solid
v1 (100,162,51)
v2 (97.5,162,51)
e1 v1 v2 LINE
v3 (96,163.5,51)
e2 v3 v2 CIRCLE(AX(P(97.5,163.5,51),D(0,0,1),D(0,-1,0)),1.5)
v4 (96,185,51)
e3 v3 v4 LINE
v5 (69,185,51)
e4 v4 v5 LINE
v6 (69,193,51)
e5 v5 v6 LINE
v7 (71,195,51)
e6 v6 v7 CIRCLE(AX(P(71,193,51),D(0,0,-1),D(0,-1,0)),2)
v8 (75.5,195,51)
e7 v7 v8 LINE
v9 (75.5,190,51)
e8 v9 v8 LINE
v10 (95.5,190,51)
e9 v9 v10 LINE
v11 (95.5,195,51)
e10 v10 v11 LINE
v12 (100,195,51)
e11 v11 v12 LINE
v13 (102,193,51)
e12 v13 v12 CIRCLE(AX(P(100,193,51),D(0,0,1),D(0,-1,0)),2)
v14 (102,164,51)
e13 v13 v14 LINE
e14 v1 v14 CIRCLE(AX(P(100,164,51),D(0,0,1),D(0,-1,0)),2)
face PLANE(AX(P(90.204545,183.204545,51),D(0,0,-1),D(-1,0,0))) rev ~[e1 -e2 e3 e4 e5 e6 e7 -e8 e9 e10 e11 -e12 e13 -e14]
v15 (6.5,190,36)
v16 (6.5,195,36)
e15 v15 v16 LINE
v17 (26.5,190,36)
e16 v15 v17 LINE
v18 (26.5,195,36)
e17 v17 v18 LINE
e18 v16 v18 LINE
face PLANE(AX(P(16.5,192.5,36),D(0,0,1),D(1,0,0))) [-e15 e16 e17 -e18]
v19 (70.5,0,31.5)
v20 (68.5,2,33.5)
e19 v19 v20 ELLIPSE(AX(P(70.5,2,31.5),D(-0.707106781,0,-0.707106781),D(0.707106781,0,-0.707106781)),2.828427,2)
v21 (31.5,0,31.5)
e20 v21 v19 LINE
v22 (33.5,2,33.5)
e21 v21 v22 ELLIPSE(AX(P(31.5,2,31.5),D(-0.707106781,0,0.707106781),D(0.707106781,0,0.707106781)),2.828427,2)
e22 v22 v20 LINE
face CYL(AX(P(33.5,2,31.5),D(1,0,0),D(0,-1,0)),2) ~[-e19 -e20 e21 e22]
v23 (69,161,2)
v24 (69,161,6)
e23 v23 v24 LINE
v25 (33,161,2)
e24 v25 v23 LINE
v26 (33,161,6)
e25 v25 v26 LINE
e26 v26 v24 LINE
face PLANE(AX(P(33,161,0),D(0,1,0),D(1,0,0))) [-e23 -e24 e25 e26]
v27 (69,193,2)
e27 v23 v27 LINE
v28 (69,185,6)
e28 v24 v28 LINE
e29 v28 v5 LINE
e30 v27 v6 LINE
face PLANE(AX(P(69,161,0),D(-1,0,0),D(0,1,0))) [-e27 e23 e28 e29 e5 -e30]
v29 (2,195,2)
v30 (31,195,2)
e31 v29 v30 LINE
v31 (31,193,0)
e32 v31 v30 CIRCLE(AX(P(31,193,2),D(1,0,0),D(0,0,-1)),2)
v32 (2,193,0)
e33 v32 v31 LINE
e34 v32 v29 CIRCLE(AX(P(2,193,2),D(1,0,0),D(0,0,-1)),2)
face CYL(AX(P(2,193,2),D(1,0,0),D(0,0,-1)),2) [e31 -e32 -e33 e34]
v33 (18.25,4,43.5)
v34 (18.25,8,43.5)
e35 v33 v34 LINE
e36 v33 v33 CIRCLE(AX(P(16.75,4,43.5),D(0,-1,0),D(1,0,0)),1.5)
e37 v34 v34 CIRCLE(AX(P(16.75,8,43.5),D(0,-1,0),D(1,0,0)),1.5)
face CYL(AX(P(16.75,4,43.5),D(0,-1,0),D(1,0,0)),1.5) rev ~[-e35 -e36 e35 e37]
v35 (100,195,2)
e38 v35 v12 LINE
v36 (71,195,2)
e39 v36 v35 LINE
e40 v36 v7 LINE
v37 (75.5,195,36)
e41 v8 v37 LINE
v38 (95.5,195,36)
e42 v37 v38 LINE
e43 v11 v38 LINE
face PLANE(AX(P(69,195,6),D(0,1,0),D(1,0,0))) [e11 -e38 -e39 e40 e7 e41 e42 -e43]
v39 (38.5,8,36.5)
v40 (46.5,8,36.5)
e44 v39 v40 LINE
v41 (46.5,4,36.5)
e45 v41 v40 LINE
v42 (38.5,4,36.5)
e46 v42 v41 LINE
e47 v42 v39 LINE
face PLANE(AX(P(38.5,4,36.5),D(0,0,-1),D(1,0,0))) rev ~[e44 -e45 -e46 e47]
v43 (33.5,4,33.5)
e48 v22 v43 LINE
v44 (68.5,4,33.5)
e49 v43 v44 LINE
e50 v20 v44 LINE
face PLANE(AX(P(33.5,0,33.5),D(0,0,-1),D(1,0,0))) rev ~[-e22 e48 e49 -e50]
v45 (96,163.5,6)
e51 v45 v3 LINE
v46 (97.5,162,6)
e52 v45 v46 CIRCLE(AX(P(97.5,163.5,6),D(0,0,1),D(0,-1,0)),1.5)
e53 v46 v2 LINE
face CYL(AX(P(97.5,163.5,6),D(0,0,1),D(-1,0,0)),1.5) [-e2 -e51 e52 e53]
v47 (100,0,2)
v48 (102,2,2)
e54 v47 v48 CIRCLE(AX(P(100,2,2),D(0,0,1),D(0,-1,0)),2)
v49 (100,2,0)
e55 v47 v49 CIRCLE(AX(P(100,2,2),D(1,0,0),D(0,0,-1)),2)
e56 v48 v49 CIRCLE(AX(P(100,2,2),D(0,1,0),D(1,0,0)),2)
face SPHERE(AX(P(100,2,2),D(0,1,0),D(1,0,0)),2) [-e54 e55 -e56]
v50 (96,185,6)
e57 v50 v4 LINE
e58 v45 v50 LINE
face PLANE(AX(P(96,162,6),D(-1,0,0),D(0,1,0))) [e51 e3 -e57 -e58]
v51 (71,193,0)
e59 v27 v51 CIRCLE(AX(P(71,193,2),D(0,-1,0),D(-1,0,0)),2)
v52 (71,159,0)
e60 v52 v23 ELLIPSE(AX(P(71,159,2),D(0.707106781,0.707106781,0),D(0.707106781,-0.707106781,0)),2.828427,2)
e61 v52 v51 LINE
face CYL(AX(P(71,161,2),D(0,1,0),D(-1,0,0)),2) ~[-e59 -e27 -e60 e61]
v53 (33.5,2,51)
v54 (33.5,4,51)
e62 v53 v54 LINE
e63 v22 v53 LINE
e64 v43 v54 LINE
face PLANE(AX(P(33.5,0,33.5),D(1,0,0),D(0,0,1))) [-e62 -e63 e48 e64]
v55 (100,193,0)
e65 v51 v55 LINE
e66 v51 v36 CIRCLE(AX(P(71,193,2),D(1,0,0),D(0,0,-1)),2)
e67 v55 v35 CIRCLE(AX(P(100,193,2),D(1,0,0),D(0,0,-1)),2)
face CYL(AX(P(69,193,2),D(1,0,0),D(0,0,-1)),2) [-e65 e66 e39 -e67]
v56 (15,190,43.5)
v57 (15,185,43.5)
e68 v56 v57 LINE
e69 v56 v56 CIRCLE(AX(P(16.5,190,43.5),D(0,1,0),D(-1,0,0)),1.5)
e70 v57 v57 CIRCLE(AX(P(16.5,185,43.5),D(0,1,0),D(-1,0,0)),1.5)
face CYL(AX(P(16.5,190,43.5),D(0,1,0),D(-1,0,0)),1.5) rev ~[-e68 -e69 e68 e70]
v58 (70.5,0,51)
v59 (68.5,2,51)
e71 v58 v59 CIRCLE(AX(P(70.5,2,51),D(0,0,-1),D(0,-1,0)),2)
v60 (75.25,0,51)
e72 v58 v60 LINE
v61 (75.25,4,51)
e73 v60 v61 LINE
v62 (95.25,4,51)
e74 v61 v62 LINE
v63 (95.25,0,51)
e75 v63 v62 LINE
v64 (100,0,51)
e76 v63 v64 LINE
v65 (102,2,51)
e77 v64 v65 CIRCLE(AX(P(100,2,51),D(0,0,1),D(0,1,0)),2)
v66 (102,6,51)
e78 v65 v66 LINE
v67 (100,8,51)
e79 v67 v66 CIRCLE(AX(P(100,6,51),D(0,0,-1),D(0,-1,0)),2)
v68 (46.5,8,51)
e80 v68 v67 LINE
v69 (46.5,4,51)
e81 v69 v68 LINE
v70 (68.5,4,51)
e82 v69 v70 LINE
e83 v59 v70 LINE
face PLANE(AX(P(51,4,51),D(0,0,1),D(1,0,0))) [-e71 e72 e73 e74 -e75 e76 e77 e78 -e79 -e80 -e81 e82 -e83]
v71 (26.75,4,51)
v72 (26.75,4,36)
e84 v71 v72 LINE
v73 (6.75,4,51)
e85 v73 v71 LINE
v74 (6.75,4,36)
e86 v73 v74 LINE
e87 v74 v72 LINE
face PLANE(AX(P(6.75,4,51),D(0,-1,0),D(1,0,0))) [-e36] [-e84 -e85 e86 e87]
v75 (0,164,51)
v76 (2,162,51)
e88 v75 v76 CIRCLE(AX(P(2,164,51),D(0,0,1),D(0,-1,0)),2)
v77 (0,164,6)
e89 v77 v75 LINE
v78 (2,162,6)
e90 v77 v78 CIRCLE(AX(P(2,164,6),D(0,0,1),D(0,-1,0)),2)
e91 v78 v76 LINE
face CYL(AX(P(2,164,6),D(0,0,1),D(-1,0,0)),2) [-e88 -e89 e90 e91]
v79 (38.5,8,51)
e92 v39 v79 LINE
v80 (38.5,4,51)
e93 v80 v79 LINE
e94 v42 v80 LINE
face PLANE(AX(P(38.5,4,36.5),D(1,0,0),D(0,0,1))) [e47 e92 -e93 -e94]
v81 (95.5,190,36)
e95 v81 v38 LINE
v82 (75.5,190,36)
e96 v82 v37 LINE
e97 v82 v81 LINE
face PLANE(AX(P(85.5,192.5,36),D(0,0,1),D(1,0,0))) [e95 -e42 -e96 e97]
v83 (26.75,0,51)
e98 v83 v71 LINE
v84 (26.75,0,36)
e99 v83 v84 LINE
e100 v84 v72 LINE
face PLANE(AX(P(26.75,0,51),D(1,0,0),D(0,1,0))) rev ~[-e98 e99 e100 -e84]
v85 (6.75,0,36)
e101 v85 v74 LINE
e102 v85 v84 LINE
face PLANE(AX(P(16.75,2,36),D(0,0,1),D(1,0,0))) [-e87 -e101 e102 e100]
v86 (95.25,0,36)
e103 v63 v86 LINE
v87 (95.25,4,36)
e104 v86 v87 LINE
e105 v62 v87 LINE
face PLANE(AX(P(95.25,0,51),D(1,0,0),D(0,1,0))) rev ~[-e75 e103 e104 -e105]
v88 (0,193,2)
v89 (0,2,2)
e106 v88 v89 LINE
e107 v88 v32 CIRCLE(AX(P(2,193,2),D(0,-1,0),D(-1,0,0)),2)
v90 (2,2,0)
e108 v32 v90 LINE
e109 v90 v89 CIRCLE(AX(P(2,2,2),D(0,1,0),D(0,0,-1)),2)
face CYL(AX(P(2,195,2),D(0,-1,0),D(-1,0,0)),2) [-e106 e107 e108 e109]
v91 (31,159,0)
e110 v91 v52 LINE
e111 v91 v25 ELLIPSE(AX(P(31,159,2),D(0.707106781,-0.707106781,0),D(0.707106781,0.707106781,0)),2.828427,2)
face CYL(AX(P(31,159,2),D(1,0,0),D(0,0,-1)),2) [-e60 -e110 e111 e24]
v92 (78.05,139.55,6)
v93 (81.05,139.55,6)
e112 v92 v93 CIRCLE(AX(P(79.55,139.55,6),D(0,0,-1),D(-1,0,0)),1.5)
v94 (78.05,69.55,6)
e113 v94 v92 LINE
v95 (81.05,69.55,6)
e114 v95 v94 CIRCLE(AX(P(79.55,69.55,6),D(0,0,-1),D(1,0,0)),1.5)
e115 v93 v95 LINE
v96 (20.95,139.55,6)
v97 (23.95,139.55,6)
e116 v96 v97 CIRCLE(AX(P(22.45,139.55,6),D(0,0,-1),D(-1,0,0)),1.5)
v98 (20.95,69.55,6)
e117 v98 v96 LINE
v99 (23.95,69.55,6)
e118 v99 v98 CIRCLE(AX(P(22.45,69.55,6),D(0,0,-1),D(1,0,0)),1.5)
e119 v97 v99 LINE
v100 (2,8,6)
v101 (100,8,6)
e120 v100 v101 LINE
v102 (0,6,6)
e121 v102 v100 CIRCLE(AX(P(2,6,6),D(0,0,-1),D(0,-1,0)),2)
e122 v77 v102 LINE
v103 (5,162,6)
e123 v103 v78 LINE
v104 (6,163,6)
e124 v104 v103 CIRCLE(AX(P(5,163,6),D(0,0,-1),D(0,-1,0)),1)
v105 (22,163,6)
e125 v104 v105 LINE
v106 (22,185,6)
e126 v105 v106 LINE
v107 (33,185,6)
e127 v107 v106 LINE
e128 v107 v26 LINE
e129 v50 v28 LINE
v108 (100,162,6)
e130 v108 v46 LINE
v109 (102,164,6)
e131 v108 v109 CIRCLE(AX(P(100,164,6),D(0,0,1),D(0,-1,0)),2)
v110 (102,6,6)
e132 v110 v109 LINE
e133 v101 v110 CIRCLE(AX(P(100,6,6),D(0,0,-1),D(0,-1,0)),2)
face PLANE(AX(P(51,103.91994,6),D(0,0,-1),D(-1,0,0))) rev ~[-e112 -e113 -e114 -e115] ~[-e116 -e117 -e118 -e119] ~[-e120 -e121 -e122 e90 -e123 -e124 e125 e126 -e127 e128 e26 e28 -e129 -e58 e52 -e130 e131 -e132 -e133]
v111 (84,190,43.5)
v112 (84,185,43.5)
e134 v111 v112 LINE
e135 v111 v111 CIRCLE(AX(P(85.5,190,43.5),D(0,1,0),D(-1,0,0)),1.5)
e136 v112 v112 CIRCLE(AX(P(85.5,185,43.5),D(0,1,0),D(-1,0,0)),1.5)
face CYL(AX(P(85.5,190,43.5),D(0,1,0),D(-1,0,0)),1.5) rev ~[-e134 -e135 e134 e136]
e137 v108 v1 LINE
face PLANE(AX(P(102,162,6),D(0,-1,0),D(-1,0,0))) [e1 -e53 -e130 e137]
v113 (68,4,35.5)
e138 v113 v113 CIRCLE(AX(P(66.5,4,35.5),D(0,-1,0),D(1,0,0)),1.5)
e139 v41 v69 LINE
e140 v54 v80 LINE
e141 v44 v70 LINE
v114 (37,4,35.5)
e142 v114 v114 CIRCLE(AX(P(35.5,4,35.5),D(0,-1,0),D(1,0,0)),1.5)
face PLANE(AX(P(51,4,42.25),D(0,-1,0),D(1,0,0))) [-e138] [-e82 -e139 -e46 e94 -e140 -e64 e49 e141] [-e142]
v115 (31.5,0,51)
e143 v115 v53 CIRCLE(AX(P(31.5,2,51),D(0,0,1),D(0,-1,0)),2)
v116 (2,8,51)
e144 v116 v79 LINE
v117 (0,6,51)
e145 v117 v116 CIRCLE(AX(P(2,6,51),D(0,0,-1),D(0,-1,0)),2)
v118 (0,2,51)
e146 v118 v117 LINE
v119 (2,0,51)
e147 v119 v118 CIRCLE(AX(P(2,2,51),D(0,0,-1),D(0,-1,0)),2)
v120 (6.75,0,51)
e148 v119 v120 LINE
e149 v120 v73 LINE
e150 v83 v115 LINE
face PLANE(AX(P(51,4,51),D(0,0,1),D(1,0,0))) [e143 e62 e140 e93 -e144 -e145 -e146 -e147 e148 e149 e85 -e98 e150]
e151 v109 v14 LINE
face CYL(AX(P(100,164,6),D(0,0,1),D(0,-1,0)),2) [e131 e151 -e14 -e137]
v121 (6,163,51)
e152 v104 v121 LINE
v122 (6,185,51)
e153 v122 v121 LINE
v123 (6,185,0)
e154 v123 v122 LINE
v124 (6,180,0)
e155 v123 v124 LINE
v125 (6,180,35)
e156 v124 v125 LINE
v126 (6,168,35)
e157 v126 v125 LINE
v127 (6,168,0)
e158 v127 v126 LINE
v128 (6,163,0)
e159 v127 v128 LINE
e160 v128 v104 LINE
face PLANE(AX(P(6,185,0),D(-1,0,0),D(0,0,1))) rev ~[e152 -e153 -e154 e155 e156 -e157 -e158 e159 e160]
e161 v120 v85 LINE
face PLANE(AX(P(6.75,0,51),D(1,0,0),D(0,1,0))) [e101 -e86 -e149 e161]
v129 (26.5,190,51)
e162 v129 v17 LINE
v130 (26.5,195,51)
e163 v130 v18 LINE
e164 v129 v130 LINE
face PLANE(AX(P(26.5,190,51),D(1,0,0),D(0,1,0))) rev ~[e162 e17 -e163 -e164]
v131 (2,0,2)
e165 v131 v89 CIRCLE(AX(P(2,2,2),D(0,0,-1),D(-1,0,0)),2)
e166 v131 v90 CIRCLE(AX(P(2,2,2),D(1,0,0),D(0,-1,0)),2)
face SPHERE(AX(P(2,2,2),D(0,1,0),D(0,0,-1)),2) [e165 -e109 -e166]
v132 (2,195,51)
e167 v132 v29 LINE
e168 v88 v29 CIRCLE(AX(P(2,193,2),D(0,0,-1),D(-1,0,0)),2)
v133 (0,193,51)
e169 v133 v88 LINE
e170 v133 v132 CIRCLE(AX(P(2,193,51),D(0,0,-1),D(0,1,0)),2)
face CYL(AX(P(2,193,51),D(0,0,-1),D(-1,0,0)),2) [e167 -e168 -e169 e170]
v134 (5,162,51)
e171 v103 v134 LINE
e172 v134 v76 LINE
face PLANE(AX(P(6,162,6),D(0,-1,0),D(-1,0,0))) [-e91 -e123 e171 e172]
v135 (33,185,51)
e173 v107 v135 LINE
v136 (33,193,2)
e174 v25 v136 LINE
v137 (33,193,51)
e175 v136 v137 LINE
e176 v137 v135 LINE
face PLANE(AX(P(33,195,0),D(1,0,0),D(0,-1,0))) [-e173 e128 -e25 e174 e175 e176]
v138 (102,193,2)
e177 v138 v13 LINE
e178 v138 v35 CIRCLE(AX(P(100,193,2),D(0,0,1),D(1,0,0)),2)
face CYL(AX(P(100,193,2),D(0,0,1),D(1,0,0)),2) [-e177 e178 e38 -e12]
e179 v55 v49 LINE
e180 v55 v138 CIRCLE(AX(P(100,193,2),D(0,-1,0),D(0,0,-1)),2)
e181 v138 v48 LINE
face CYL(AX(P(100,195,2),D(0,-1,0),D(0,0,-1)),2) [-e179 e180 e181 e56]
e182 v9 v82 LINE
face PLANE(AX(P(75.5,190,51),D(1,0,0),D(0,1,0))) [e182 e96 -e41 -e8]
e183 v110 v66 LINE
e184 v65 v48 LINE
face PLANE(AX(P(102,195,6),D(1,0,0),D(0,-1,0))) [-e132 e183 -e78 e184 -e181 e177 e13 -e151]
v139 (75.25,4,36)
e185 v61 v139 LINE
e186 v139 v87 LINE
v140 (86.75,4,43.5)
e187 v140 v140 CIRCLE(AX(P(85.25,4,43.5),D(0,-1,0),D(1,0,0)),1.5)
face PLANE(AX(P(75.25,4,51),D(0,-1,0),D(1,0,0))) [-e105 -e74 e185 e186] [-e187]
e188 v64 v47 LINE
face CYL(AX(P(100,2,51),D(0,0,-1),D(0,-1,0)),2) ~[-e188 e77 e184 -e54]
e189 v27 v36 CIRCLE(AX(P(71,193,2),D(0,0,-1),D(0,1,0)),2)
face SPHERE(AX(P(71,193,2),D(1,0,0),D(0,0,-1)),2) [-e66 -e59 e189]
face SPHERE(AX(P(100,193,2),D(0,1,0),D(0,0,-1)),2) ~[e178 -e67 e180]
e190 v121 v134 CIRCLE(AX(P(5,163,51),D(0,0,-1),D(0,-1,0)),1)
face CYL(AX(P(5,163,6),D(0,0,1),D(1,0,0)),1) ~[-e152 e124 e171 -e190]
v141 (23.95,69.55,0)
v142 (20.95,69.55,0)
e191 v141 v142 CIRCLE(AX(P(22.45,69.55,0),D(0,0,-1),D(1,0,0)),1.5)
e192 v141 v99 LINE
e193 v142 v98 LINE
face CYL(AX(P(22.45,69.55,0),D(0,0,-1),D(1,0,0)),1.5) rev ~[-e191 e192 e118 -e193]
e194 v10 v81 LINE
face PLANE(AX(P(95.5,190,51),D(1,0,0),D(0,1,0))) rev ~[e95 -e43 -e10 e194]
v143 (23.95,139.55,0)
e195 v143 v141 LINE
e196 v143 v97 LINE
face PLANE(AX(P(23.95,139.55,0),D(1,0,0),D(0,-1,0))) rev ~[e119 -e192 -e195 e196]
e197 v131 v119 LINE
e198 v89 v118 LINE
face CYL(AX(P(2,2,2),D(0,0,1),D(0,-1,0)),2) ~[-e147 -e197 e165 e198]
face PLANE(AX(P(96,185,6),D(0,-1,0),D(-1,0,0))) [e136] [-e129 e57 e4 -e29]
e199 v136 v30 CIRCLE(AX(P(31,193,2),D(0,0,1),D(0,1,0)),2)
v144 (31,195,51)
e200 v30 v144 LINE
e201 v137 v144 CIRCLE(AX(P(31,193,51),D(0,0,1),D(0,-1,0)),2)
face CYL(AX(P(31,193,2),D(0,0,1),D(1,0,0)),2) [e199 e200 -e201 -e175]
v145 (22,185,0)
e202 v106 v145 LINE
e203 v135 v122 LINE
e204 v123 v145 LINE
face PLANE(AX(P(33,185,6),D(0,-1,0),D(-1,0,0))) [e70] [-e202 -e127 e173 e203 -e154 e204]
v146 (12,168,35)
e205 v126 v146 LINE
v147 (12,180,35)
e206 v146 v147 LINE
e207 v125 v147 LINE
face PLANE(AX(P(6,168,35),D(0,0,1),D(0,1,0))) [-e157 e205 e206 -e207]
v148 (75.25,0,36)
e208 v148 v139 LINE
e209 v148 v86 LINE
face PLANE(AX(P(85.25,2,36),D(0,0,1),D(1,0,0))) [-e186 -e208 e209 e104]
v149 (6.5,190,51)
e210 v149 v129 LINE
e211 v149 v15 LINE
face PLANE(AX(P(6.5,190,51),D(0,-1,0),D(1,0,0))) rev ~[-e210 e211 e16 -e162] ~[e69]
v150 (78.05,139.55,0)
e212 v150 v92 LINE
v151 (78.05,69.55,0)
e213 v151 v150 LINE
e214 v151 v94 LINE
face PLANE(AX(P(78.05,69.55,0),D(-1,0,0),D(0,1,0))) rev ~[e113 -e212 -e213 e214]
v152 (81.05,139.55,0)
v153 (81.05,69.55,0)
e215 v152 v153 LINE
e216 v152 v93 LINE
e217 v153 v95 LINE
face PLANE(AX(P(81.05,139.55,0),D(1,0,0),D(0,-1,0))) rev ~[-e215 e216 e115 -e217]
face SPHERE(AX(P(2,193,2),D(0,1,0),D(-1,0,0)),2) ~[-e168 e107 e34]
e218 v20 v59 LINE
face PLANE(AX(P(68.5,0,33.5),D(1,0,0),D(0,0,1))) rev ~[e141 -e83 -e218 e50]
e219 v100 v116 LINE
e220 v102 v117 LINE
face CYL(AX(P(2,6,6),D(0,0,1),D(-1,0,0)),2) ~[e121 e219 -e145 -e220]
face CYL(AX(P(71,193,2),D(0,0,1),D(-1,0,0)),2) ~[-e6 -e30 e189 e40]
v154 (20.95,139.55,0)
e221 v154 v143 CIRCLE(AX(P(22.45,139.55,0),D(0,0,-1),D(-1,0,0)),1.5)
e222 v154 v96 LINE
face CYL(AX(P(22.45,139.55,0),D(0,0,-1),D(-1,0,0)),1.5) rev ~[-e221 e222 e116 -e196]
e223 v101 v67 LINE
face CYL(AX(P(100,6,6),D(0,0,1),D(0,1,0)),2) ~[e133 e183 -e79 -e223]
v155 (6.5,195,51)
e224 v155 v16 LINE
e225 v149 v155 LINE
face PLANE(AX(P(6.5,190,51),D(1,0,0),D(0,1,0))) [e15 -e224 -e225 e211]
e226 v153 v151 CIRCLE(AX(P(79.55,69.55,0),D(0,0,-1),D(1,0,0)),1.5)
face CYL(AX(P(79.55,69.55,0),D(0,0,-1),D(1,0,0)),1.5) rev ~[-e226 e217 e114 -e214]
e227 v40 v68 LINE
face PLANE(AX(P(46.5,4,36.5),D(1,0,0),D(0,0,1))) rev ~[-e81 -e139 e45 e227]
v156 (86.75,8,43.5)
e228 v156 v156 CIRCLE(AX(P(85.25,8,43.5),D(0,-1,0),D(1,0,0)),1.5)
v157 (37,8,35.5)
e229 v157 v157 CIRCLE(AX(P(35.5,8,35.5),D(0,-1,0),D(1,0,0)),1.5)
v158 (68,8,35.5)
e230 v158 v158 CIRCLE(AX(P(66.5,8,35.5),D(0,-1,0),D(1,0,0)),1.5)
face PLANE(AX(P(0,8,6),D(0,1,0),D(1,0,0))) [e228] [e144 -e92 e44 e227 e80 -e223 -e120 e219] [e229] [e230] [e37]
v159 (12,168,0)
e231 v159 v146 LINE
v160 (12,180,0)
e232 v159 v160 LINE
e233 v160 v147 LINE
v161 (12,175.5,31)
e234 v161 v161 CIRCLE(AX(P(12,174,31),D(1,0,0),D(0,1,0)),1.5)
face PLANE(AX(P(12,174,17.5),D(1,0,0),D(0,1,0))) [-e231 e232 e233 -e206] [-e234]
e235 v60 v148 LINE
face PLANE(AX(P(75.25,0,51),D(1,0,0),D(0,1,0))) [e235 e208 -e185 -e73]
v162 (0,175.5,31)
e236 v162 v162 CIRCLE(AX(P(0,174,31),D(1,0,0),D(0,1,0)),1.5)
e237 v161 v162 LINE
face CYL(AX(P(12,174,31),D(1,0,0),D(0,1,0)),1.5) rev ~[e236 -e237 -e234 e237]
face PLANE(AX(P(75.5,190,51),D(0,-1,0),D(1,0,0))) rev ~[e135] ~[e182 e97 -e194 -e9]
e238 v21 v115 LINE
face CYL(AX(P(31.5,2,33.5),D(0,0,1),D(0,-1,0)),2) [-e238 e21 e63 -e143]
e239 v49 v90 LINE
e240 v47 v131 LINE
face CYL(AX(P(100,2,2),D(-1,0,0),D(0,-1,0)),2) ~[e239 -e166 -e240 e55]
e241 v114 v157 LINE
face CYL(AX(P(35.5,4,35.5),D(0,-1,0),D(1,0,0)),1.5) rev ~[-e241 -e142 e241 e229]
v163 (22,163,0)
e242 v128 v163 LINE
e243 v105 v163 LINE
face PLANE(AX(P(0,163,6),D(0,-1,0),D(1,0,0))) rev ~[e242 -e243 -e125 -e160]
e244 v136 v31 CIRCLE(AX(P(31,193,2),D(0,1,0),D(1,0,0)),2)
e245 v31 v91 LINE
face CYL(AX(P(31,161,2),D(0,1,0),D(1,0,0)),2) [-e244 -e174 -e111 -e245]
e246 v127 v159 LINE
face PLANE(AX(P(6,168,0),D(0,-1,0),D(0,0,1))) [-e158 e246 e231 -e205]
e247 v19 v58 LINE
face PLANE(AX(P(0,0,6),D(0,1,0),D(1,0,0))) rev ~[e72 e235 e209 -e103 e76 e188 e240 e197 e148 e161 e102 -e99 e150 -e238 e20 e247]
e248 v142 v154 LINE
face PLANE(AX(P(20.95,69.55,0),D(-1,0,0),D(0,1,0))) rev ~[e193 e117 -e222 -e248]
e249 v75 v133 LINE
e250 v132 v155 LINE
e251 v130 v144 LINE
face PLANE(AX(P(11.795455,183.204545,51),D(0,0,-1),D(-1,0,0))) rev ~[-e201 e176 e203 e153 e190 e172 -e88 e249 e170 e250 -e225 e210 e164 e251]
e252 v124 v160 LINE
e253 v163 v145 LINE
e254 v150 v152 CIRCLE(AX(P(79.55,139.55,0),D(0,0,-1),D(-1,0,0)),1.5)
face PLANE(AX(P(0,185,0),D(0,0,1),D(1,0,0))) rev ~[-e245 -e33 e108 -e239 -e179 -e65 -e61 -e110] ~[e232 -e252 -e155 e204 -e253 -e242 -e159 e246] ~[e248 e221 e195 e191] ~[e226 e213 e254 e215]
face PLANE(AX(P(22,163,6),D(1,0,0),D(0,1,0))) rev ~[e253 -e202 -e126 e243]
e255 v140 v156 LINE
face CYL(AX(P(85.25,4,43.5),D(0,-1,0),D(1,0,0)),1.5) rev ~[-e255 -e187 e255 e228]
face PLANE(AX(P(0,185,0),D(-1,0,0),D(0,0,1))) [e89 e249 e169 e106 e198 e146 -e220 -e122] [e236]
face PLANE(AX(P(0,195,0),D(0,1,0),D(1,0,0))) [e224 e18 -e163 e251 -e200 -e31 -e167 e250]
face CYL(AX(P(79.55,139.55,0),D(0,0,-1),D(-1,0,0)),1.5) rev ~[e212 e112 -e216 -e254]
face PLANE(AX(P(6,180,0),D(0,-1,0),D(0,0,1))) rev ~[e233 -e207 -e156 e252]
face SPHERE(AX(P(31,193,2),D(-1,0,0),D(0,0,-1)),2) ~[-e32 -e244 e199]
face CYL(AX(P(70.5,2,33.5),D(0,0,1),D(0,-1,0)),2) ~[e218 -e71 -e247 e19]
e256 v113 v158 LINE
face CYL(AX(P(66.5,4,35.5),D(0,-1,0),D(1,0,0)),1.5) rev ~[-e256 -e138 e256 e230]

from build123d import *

# Parameters (mm, degrees)
PAD_DEPTH       = 6
SKETCH001_W     = 22
SKETCH001_H     = 22
POCKET_DEPTH    = 6
SKETCH002_W     = 102
SKETCH002_H     = 8
PAD001_DEPTH    = 45
SKETCH003_W     = 35
SKETCH003_H     = 17.5
POCKET001_DEPTH = 4
SKETCH004_R     = 1.5
SKETCH004_W     = 8
SKETCH004_H     = 14.5
POCKET002_DEPTH = 4
SKETCH005_W     = 20
SKETCH005_H     = 4
POCKET003_DEPTH = 15
SKETCH006_R     = 1.5
POCKET004_DEPTH = 4
PAD002_DEPTH    = 45
SKETCH008_W     = 6
SKETCH008_H     = 6
PAD003_DEPTH    = 22
SKETCH009_W     = 20
SKETCH009_H     = 5
POCKET005_DEPTH = 15
SKETCH010_R     = 1.5
POCKET006_DEPTH = 5
SKETCH011_W     = 12
SKETCH011_H     = 35
PAD004_DEPTH    = 6
SKETCH012_R     = 1.5
POCKET007_DEPTH = 12.001
POCKET008_DEPTH = 6
FILLET_R        = 2
FILLET001_R     = 2
FILLET002_R     = 2
FILLET003_R     = 2
FILLET004_R     = 2
FILLET005_R     = 2
FILLET006_R     = 2
FILLET007_R     = 1.5
FILLET008_R     = 2
FILLET009_R     = 1
FILLET010_R     = 2
FILLET011_R     = 2
FILLET012_R     = 2
FILLET013_R     = 2


with BuildPart() as part:
    # Sketch → Pad (new body)
    with BuildSketch(Plane.XY):
        Polygon((0, 0), (0, 195), (33, 195), (33, 161), (69, 161), (69, 195), (102, 195), (102, 0), align=None)
    extrude(amount=PAD_DEPTH)

    # Sketch001 (on Face10 of Pad) → Pocket (cut)
    with BuildSketch(Plane.XY.offset(6)):
        with Locations((11, 174)):
            Rectangle(SKETCH001_W, SKETCH001_H)
    extrude(amount=-POCKET_DEPTH, mode=Mode.SUBTRACT)

    # Sketch002 (on Face4 of Pocket) → Pad001 (join)
    with BuildSketch(Plane.XY.offset(6)):
        with Locations((51, 4)):
            Rectangle(SKETCH002_W, SKETCH002_H)
    extrude(amount=PAD001_DEPTH)

    # Sketch003 (on Face16 of Pad001) → Pocket001 (cut)
    with BuildSketch(Plane.XZ):
        with Locations((51, 42.25)):
            Rectangle(SKETCH003_W, SKETCH003_H)
    extrude(amount=-POCKET001_DEPTH, mode=Mode.SUBTRACT)

    # Sketch004 (on Face23 of Pocket001) → Pocket002 (cut)
    with BuildSketch(Plane.XZ.offset(-4)):
        with Locations((35.5, 35.5)):
            Circle(SKETCH004_R)
        with Locations((66.5, 35.5)):
            Circle(SKETCH004_R)
        with Locations((42.5, 43.75)):
            Rectangle(SKETCH004_W, SKETCH004_H)
    extrude(amount=-POCKET002_DEPTH, mode=Mode.SUBTRACT)

    # Sketch005 (on Face23 of Pocket002) → Pocket003 (cut)
    with BuildSketch(Plane.XY.offset(51)):
        with Locations((85.25, 2)):
            Rectangle(SKETCH005_W, SKETCH005_H)
        with Locations((16.75, 2)):
            Rectangle(SKETCH005_W, SKETCH005_H)
    extrude(amount=-POCKET003_DEPTH, mode=Mode.SUBTRACT)

    # Sketch006 (on Face36 of Pocket003) → Pocket004 (cut)
    with BuildSketch(Plane.XZ.offset(-4)):
        with Locations((16.75, 43.5)):
            Circle(SKETCH006_R)
        with Locations((85.25, 43.5)):
            Circle(SKETCH006_R)
    extrude(amount=-POCKET004_DEPTH, mode=Mode.SUBTRACT)

    # Sketch007 (on Face5 of Pocket004) → Pad002 (join)
    with BuildSketch(Plane.XY.offset(6)):
        Polygon((102, 162), (96, 162), (96, 185), (69, 185), (69, 195), (102, 195), align=None)
        Polygon((6, 162), (0, 162), (0, 195), (33, 195), (33, 185), (6, 185), align=None)
    extrude(amount=PAD002_DEPTH)

    # Sketch008 (on Face9 of Pad002) → Pad003 (join)
    with BuildSketch(Plane.XZ.offset(-185)):
        with Locations((3, 3)):
            Rectangle(SKETCH008_W, SKETCH008_H)
    extrude(amount=PAD003_DEPTH)

    # Sketch009 (on Face29 of Pad003) → Pocket005 (cut)
    with BuildSketch(Plane.XY.offset(51)):
        with Locations((16.5, 192.5)):
            Rectangle(SKETCH009_W, SKETCH009_H)
        with Locations((85.5, 192.5)):
            Rectangle(SKETCH009_W, SKETCH009_H)
    extrude(amount=-POCKET005_DEPTH, mode=Mode.SUBTRACT)

    # Sketch010 (on Face64 of Pocket005) → Pocket006 (cut)
    with BuildSketch(Plane(origin=(0, 190, 0), x_dir=(-1, 0, 0), z_dir=(0, 1, 0))):
        with Locations((-85.5, 43.5)):
            Circle(SKETCH010_R)
        with Locations((-16.5, 43.5)):
            Circle(SKETCH010_R)
    extrude(amount=-POCKET006_DEPTH, mode=Mode.SUBTRACT)

    # Sketch011 (on Face23 of Pocket006) → Pad004 (join)
    with BuildSketch(Plane.YZ.offset(6)):
        with Locations((174, 17.5)):
            Rectangle(SKETCH011_W, SKETCH011_H)
    extrude(amount=PAD004_DEPTH)

    # Sketch012 (on Face67 of Pad004) → Pocket007 (cut, through all)
    with BuildSketch(Plane.YZ.offset(12)):
        with Locations((174, 31)):
            Circle(SKETCH012_R)
    extrude(amount=-POCKET007_DEPTH, mode=Mode.SUBTRACT)

    # Sketch013 (on Face2 of Pocket007) → Pocket008 (cut)
    with BuildSketch(Plane(origin=(0, 0, 0), x_dir=(1, 0, 0), z_dir=(0, 0, -1))):
        with BuildLine():
            ThreePointArc((23.95, -69.55), (22.45, -68.05), (20.95, -69.55))
            Line((20.95, -69.55), (20.95, -139.55))
            ThreePointArc((20.95, -139.55), (22.45, -141.05), (23.95, -139.55))
            Line((23.95, -139.55), (23.95, -69.55))
        make_face()
        with BuildLine():
            ThreePointArc((81.05, -69.55), (79.55, -68.05), (78.05, -69.55))
            Line((78.05, -69.55), (78.05, -139.55))
            ThreePointArc((78.05, -139.55), (79.55, -141.05), (81.05, -139.55))
            Line((81.05, -139.55), (81.05, -69.55))
        make_face()
    extrude(amount=-POCKET008_DEPTH, mode=Mode.SUBTRACT)

    # Fillet
    fillet_edges = [part.edges().sort_by_distance(p)[0] for p in [
        (0, 81.5, 0),
    ]]
    fillet(fillet_edges, radius=FILLET_R)

    # Fillet001
    fillet001_edges = [part.edges().sort_by_distance(p)[0] for p in [
        (102, 97.5, 0),
    ]]
    fillet(fillet001_edges, radius=FILLET001_R)

    # Fillet002
    fillet002_edges = [part.edges().sort_by_distance(p)[0] for p in [
        (51, 0, 0),
    ]]
    fillet(fillet002_edges, radius=FILLET002_R)

    # Fillet003
    fillet003_edges = [part.edges().sort_by_distance(p)[0] for p in [
        (51, 0, 33.5),
        (33.5, 0, 42.25),
        (68.5, 0, 42.25),
    ]]
    fillet(fillet003_edges, radius=FILLET003_R)

    # Fillet004
    fillet004_edges = [part.edges().sort_by_distance(p)[0] for p in [
        (102, 8, 28.5),
    ]]
    fillet(fillet004_edges, radius=FILLET004_R)

    # Fillet005
    fillet005_edges = [part.edges().sort_by_distance(p)[0] for p in [
        (0, 8, 28.5),
    ]]
    fillet(fillet005_edges, radius=FILLET005_R)

    # Fillet006
    fillet006_edges = [part.edges().sort_by_distance(p)[0] for p in [
        (102, 162, 28.5),
    ]]
    fillet(fillet006_edges, radius=FILLET006_R)

    # Fillet007
    fillet007_edges = [part.edges().sort_by_distance(p)[0] for p in [
        (96, 162, 28.5),
    ]]
    fillet(fillet007_edges, radius=FILLET007_R)

    # Fillet008
    fillet008_edges = [part.edges().sort_by_distance(p)[0] for p in [
        (0, 162, 28.5),
    ]]
    fillet(fillet008_edges, radius=FILLET008_R)

    # Fillet009
    fillet009_edges = [part.edges().sort_by_distance(p)[0] for p in [
        (6, 162, 28.5),
    ]]
    fillet(fillet009_edges, radius=FILLET009_R)

    # Fillet010
    fillet010_edges = [part.edges().sort_by_distance(p)[0] for p in [
        (0, 195, 28.5),
    ]]
    fillet(fillet010_edges, radius=FILLET010_R)

    # Fillet011
    fillet011_edges = [part.edges().sort_by_distance(p)[0] for p in [
        (102, 195, 28.5),
    ]]
    fillet(fillet011_edges, radius=FILLET011_R)

    # Fillet012
    fillet012_edges = [part.edges().sort_by_distance(p)[0] for p in [
        (33, 195, 28.5),
        (69, 195, 28.5),
    ]]
    fillet(fillet012_edges, radius=FILLET012_R)

    # Fillet013
    fillet013_edges = [part.edges().sort_by_distance(p)[0] for p in [
        (51, 161, 0),
    ]]
    fillet(fillet013_edges, radius=FILLET013_R)


solid = part.part
